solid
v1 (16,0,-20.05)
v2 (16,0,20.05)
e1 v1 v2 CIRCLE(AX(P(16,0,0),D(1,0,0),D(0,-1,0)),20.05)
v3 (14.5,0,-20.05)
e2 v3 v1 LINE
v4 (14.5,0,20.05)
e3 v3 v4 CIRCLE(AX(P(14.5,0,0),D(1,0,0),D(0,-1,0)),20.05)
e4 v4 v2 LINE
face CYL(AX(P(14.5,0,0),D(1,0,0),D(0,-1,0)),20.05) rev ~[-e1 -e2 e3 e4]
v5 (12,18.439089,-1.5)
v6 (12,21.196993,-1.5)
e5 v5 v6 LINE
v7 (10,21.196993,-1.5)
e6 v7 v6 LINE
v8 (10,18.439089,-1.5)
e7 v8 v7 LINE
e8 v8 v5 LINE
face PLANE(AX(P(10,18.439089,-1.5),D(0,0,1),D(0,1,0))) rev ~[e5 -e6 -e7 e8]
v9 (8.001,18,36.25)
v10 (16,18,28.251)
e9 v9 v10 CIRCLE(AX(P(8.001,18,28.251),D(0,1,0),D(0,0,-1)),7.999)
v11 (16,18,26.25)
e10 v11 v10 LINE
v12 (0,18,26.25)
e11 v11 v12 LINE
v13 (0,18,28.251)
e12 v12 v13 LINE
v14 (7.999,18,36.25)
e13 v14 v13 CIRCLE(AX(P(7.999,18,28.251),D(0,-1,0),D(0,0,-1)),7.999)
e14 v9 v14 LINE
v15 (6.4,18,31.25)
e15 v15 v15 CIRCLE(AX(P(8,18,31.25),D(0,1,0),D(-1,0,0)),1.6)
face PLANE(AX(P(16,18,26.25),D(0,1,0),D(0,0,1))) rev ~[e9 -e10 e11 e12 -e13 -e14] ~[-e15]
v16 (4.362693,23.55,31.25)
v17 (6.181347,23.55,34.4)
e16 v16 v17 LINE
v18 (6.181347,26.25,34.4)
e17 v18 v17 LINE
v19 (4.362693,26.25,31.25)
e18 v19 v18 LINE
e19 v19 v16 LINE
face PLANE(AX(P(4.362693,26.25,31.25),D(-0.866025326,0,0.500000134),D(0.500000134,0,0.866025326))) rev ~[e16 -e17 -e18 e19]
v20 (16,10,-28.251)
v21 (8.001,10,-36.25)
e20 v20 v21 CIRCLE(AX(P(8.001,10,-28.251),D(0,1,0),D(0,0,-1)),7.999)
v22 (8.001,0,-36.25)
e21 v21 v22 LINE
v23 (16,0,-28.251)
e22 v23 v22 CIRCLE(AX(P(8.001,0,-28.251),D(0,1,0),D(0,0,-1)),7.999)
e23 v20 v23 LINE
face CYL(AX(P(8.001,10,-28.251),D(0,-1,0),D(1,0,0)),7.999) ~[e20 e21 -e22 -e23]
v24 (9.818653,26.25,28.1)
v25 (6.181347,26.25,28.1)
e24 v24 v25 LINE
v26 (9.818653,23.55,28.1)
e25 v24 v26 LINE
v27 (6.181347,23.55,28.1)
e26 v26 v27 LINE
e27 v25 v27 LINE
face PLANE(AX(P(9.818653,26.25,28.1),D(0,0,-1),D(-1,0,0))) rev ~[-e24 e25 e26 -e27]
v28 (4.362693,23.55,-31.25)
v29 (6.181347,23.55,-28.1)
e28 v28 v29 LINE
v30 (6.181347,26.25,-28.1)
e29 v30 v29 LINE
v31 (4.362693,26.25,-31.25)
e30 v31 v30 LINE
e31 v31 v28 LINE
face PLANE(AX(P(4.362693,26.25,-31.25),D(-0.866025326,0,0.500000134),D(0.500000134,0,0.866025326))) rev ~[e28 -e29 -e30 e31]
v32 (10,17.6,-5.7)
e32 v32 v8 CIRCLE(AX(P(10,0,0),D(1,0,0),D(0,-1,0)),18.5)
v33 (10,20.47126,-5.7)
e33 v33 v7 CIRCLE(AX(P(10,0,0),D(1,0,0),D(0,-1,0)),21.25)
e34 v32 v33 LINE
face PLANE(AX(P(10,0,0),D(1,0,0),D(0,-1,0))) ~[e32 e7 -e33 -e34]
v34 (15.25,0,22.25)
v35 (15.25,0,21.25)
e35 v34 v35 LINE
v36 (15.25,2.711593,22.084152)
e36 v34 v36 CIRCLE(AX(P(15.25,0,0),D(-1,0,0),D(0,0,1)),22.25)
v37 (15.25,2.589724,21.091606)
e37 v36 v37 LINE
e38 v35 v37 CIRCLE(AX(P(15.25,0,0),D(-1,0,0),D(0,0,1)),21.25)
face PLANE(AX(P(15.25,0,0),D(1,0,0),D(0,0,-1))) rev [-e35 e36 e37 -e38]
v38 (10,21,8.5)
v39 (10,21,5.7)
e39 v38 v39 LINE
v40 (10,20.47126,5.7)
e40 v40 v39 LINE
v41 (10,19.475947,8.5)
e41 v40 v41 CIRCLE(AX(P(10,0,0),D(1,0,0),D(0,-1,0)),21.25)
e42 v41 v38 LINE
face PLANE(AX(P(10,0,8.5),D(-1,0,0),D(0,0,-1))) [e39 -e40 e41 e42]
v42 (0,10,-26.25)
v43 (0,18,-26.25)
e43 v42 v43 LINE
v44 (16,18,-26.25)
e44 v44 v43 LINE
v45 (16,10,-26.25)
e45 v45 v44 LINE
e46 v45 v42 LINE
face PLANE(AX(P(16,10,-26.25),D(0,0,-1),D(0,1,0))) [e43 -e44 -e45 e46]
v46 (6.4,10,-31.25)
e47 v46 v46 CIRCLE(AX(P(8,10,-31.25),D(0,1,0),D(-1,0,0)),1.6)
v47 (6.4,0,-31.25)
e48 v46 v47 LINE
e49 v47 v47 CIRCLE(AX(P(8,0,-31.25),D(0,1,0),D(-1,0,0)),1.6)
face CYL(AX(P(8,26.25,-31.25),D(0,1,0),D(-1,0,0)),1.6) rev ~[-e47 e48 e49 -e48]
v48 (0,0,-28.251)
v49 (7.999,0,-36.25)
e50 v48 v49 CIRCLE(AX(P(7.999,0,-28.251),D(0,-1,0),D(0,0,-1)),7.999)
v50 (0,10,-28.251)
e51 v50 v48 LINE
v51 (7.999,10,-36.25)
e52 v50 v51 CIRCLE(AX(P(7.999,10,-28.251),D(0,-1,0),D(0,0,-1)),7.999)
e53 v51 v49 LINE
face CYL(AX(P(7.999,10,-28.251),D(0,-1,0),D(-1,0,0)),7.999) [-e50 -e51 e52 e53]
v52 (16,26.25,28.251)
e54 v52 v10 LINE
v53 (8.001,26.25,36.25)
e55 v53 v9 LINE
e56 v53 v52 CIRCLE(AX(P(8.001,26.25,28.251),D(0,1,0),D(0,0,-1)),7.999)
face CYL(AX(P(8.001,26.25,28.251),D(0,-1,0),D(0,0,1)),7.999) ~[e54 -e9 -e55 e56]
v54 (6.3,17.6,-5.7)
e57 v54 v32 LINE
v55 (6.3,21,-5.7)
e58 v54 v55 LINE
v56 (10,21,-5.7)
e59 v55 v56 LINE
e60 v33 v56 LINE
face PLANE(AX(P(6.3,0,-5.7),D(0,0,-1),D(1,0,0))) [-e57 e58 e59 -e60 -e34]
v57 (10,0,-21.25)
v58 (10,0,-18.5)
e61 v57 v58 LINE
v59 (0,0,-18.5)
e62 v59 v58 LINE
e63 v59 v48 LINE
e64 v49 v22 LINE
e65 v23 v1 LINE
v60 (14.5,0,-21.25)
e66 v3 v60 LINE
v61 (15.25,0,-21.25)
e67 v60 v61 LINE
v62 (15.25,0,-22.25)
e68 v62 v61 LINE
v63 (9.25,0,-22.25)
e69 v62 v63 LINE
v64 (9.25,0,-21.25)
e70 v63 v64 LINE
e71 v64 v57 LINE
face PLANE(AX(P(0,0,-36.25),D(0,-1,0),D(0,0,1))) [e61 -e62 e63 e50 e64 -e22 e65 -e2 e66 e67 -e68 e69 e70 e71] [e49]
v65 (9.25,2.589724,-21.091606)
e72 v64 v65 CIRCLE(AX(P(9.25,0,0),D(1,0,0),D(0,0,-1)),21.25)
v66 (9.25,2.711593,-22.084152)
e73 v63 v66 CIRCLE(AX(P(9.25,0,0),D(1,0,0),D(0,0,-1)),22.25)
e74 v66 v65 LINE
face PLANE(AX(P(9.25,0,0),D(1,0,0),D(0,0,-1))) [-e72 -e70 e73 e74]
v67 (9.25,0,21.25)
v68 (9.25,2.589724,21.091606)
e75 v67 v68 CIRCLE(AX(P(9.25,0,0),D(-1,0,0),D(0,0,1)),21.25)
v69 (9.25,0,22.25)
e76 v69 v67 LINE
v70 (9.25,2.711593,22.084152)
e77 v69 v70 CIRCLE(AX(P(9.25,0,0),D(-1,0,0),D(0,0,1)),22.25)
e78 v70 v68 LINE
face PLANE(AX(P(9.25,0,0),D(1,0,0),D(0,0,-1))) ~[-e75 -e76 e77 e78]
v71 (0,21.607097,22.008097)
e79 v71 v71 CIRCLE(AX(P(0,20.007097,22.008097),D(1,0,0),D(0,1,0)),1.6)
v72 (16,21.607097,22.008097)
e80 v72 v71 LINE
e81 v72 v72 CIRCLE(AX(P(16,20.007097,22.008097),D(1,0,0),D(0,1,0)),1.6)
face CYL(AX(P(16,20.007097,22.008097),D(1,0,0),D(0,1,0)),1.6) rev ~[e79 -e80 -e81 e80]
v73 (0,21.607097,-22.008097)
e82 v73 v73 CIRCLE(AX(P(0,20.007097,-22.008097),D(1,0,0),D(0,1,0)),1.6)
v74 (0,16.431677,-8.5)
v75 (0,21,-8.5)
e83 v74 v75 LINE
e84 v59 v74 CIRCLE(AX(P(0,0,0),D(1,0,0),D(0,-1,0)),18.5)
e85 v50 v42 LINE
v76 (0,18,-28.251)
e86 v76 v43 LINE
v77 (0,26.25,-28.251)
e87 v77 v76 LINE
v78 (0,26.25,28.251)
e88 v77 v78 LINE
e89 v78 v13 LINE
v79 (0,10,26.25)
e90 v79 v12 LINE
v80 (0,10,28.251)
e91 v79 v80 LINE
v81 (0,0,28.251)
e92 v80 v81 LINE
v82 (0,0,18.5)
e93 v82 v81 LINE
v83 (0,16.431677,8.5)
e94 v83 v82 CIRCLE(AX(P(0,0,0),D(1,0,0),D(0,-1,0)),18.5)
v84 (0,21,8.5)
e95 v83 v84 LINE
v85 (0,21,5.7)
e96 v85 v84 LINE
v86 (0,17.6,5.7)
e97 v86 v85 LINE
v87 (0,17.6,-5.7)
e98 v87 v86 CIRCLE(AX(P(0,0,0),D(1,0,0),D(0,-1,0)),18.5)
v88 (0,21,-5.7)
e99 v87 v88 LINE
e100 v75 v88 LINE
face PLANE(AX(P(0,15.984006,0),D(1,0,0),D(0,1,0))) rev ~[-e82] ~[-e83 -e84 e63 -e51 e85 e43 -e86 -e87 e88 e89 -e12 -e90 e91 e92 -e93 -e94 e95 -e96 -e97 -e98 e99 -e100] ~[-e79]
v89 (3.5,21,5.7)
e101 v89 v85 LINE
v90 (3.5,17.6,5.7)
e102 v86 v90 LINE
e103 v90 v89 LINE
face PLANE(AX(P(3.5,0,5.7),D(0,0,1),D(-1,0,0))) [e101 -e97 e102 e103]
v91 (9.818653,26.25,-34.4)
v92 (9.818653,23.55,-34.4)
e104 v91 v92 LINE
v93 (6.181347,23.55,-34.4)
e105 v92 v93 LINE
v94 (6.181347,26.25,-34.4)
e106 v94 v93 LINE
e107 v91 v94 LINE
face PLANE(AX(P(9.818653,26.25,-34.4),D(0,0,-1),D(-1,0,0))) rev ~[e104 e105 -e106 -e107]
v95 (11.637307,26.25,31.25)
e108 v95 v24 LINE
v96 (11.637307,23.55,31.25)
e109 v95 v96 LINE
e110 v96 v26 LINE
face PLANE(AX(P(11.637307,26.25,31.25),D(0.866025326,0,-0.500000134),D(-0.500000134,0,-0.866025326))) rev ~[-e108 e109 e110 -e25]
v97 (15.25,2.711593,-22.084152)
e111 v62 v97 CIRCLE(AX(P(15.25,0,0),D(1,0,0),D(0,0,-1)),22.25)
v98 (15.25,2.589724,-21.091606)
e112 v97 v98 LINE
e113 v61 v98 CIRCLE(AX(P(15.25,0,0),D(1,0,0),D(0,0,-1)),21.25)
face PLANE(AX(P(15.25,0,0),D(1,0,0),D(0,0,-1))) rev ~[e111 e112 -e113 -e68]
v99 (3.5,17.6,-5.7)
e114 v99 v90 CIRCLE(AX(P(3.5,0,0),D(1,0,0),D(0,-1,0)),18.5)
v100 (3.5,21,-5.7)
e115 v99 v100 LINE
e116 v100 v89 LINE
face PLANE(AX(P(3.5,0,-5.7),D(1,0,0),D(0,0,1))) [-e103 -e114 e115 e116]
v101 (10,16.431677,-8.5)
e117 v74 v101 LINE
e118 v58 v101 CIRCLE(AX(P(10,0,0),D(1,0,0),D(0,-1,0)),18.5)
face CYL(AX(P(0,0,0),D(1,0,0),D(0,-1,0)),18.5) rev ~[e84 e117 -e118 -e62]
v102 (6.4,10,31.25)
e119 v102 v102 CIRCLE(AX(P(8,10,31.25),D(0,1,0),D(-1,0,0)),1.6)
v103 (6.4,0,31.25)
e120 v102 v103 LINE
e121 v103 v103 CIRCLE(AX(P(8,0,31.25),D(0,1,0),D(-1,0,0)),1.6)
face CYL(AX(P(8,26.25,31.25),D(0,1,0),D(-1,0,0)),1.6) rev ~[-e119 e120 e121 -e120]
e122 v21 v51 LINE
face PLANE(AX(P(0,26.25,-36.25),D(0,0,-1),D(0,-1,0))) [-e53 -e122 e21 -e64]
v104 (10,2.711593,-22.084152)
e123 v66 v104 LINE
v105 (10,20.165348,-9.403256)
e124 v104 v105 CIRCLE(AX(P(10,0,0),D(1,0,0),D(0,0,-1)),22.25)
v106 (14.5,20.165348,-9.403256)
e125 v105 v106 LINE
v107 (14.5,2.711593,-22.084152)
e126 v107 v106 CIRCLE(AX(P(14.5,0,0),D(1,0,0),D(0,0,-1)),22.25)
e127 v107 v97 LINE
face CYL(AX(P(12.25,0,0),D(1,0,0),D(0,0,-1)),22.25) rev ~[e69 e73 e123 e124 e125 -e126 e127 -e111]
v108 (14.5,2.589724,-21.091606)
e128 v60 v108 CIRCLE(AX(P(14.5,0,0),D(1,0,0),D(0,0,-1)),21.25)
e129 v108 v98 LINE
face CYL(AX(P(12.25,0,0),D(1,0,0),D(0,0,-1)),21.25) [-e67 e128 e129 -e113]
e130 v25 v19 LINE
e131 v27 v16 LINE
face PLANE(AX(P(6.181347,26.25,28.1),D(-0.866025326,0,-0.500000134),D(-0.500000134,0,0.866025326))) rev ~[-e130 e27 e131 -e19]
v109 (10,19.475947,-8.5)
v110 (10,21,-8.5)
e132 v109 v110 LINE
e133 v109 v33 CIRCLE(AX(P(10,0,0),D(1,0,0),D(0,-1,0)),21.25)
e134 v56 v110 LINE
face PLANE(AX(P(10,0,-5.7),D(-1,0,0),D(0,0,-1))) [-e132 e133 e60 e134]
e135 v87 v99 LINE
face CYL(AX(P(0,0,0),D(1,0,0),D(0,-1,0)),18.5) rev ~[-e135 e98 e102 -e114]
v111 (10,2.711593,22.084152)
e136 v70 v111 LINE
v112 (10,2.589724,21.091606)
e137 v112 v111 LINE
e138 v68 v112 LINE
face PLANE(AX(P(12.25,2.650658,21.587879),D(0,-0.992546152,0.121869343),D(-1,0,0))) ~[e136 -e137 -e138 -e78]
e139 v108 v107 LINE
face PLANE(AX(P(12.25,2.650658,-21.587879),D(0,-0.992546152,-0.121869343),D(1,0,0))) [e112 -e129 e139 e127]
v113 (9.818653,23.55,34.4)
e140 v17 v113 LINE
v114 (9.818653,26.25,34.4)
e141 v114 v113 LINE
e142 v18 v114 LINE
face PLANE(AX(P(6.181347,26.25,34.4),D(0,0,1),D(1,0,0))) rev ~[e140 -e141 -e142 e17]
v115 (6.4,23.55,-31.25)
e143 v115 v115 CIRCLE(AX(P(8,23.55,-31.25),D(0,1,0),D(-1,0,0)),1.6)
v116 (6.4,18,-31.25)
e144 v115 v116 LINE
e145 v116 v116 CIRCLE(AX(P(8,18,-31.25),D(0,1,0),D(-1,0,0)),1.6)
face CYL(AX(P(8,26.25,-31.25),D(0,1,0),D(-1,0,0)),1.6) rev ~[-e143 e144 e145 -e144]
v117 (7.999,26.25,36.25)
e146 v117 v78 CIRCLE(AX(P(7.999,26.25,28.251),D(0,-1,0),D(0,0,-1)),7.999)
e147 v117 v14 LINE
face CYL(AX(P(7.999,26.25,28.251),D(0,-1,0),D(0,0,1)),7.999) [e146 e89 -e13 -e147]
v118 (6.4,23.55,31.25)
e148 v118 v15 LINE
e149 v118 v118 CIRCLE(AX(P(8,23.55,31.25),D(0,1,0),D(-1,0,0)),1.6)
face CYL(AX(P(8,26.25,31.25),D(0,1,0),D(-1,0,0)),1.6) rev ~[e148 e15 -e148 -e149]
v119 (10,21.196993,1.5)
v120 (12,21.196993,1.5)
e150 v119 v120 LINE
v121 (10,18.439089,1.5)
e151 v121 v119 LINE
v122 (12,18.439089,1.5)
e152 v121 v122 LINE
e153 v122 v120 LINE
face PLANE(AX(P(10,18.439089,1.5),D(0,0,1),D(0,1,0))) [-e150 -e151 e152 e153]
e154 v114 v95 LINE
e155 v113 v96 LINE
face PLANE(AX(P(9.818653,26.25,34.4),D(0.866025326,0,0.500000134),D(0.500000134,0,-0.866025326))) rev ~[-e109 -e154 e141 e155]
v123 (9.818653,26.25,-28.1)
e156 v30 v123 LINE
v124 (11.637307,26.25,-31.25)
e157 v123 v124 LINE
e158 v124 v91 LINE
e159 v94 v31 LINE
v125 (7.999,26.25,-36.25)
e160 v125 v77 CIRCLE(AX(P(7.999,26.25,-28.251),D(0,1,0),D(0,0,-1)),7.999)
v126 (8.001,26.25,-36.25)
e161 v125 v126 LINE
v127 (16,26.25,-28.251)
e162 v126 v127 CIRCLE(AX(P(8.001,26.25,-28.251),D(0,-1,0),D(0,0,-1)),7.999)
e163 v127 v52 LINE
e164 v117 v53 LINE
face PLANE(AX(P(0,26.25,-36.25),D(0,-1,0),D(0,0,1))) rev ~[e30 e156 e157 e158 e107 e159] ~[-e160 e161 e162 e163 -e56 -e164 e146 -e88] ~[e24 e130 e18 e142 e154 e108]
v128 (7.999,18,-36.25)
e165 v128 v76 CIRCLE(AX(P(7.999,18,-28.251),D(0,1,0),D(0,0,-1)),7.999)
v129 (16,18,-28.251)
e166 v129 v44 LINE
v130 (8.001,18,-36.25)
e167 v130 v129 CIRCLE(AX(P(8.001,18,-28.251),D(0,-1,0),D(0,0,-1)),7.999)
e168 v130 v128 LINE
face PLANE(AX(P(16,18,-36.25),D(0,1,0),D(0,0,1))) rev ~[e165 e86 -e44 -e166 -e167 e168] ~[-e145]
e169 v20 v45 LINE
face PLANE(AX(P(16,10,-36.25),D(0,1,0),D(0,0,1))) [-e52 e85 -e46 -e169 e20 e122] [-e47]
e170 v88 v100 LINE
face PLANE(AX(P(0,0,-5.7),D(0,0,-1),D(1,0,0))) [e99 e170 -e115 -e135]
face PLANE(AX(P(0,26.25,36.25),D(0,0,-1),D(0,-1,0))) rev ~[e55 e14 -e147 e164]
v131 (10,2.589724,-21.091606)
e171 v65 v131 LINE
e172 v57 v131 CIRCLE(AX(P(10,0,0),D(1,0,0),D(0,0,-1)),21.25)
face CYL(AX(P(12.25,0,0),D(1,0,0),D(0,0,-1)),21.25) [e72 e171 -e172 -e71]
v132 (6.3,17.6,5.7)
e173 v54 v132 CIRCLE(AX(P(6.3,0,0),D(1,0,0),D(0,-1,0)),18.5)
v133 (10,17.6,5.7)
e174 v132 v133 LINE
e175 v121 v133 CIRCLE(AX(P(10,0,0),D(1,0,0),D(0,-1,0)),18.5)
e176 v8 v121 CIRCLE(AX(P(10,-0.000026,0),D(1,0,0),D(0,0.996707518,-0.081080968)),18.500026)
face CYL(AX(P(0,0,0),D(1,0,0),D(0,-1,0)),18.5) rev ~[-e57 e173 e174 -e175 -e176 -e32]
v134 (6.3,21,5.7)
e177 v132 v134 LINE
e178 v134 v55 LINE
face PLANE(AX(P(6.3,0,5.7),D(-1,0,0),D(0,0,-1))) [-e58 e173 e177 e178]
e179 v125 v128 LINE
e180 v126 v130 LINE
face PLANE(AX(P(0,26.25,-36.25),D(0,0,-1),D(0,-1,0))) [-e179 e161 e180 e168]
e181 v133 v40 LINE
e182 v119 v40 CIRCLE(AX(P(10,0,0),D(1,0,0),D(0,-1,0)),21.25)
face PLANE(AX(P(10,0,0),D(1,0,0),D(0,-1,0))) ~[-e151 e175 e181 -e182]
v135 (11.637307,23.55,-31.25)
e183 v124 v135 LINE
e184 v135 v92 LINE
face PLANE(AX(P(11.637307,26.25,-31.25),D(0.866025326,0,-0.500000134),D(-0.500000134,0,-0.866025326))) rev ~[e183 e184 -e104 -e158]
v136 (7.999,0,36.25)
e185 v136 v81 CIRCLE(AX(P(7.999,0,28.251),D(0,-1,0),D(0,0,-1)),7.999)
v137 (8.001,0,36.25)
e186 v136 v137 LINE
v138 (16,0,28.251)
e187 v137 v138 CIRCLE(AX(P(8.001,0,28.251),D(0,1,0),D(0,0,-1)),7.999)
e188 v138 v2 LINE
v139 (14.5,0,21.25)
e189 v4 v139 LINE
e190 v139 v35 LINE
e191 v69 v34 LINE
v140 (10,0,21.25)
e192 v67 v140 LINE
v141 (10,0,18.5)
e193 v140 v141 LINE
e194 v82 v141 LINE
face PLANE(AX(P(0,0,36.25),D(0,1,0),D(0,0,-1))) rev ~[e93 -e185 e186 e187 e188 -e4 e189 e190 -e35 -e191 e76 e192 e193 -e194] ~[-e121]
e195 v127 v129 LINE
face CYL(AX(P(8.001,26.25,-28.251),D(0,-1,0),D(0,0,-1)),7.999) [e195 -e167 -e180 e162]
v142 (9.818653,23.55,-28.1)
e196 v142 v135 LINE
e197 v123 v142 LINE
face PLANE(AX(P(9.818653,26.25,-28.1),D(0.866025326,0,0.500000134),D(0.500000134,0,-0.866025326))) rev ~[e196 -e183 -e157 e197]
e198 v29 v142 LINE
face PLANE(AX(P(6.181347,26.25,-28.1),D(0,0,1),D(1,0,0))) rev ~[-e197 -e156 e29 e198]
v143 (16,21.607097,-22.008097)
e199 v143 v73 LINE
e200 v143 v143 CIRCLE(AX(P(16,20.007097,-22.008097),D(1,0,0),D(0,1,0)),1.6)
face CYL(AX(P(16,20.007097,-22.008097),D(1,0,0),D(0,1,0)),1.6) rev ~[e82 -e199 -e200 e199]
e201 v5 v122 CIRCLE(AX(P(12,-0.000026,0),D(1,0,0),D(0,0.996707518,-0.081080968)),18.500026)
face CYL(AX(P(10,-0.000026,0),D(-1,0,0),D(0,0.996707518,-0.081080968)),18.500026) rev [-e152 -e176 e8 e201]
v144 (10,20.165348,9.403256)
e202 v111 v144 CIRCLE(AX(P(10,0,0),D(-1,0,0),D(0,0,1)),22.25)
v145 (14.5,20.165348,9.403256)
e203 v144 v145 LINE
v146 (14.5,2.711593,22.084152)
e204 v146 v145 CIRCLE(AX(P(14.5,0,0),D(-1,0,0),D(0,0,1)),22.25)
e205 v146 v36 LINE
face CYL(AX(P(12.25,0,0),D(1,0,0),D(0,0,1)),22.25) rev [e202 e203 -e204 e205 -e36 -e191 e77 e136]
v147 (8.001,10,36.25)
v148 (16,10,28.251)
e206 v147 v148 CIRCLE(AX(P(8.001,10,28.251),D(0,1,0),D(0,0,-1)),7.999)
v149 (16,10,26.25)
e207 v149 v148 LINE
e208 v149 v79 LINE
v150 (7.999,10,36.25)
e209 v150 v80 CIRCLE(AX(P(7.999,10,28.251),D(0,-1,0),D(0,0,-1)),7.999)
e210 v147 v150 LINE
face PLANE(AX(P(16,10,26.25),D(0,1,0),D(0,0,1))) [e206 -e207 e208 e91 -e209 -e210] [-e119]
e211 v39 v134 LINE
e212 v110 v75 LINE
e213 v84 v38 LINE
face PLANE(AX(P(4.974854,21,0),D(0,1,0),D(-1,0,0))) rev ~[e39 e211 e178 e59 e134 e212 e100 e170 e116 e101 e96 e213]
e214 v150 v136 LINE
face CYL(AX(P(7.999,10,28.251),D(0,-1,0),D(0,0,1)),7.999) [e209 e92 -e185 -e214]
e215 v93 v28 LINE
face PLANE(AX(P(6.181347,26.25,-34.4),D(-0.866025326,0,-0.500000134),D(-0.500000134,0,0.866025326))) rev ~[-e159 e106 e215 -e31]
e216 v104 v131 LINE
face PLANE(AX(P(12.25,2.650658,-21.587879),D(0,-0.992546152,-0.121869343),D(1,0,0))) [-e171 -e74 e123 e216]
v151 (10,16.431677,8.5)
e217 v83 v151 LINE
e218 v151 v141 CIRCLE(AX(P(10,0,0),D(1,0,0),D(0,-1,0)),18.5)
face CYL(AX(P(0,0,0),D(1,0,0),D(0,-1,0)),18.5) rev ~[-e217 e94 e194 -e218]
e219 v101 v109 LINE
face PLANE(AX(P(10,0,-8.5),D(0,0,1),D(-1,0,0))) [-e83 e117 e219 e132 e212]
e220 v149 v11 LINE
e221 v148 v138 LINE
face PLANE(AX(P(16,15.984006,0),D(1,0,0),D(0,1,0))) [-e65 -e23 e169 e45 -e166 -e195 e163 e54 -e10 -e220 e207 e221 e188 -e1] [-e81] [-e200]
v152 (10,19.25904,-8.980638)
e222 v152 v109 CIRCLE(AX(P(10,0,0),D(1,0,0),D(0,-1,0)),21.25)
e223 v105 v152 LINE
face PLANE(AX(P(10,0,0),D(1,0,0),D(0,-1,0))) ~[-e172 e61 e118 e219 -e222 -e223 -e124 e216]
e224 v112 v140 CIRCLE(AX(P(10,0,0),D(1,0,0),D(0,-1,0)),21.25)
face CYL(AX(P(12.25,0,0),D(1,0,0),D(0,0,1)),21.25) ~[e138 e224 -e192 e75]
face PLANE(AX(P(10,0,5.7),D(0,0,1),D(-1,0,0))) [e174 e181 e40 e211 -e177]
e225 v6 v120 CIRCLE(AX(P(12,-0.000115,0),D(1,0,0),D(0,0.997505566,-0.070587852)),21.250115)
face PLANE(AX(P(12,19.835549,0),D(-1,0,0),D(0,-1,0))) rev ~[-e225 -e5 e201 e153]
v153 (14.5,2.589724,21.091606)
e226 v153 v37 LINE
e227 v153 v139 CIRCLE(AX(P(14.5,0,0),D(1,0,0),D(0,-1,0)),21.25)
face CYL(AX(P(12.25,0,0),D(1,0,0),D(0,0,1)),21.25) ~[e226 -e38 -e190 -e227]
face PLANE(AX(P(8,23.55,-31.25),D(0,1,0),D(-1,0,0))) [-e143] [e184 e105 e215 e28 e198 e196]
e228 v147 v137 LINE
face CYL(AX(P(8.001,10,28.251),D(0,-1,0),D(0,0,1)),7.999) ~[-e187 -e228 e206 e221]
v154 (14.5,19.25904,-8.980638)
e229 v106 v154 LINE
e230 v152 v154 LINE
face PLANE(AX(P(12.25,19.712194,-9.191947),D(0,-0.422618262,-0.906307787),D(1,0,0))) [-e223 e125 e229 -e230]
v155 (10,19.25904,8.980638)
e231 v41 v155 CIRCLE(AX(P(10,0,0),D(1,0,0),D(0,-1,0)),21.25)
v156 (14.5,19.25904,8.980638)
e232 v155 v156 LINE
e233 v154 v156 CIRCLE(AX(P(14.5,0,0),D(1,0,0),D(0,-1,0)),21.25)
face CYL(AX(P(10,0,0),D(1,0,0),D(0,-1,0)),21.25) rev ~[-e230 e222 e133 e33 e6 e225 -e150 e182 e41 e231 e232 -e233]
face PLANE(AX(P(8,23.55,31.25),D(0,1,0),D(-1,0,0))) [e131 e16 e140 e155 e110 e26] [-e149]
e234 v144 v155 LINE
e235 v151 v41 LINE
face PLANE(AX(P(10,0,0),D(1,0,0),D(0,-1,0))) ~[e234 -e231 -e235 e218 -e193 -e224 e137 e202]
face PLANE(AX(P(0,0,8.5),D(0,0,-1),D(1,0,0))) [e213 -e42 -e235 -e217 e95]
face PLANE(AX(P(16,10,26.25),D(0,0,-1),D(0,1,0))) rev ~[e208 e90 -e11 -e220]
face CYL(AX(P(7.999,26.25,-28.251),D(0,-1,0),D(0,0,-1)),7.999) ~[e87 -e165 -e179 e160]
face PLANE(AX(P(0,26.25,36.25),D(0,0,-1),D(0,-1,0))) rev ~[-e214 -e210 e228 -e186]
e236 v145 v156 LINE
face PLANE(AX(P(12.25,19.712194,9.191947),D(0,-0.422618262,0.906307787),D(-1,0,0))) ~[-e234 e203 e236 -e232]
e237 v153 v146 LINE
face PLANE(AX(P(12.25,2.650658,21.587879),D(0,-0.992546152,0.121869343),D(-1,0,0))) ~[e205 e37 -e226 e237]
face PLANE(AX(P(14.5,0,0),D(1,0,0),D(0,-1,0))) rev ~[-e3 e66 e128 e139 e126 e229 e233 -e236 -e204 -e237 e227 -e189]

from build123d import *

# Parameters (mm, degrees)
SKETCH001_W     = 23.25
SKETCH001_H     = 46.5
POCKET_DEPTH    = 16.001
POCKET001_DEPTH = 21
SKETCH003_W     = 4.5
SKETCH003_H     = 1
GROOVE_ANGLE    = 65
SKETCH004_W     = 6
SKETCH004_H     = 1
GROOVE001_ANGLE = 7
PAD_DEPTH       = 16
SKETCH006_W     = 8
SKETCH006_H     = 10
POCKET002_DEPTH = 16.001
SKETCH007_R     = 1.6
POCKET003_DEPTH = 26.251
POCKET004_DEPTH = 2.7
FILLET_R        = 7.999
SKETCH009_R     = 1.6
POCKET005_DEPTH = 16.001
PAD001_DEPTH    = 2


with BuildPart() as part:
    # Sketch → Revolution (revolve)
    with BuildSketch(Plane.XY):
        Polygon((0, -18.5), (10, -18.5), (10, -21.25), (14.5, -21.25), (14.5, -20.05), (16, -20.05), (16, -23.25), (14.5, -23.25), (10, -23.25), (0, -23.25), align=None)
    revolve(axis=Axis((0, 0, 0), (1, 0, 0)))

    # Sketch001 (on Face9 of Revolution) → Pocket (cut, through all)
    with BuildSketch(Plane.YZ.offset(16)):
        with Locations((-11.625, 0)):
            Rectangle(SKETCH001_W, SKETCH001_H)
    extrude(amount=-POCKET_DEPTH, mode=Mode.SUBTRACT)

    # Sketch002 (on Face2 of Pocket) → Pocket001 (cut)
    with BuildSketch(Plane.XZ):
        Polygon((0, 8.5), (10, 8.5), (10, 5.7), (6.3, 5.7), (6.3, -5.7), (10, -5.7), (10, -8.5), (0, -8.5), (0, -5.7), (3.5, -5.7), (3.5, 5.7), (0, 5.7), align=None)
    extrude(amount=-POCKET001_DEPTH, mode=Mode.SUBTRACT)

    # Sketch003 (on Face4 of Pocket001) → Groove (revolve, cut)
    with BuildSketch(Plane.XZ):
        with Locations((12.25, -21.75)):
            Rectangle(SKETCH003_W, SKETCH003_H)
    groove = revolve(axis=Axis((0, 0, 0), (1, 0, 0)), revolution_arc=GROOVE_ANGLE, mode=Mode.SUBTRACT)

    # Sketch004 (on Face4 of Groove) → Groove001 (revolve, cut)
    with BuildSketch(Plane.XZ):
        with Locations((12.25, -21.75)):
            Rectangle(SKETCH004_W, SKETCH004_H)
    groove001 = revolve(axis=Axis((0, 0, 0), (1, 0, 0)), revolution_arc=GROOVE001_ANGLE, mode=Mode.SUBTRACT)

    # Sketch005 (on Face12 of Groove001) → Pad (join)
    with BuildSketch(Plane(origin=(0, 0, 0), x_dir=(0, -1, 0), z_dir=(-1, 0, 0))):
        with BuildLine():
            ThreePointArc((0, 23.25), (-23.25, 0), (0, -23.25))
            Line((0, -36.25), (0, -23.25))
            Line((-26.25, -36.25), (0, -36.25))
            Line((-26.25, -36.25), (-26.25, 36.25))
            Line((-26.25, 36.25), (0, 36.25))
            Line((0, 36.25), (0, 23.25))
        make_face()
    extrude(amount=-PAD_DEPTH)

    # Sketch006 (on Face11 of Pad) → Pocket002 (cut, through all)
    with BuildSketch(Plane.YZ.offset(16)):
        with Locations((14, 31.25)):
            Rectangle(SKETCH006_W, SKETCH006_H)
        with Locations((14, -31.25)):
            Rectangle(SKETCH006_W, SKETCH006_H)
    extrude(amount=-POCKET002_DEPTH, mode=Mode.SUBTRACT)

    # Sketch007 (on Face40 of Pocket002) → Pocket003 (cut, through all)
    with BuildSketch(Plane(origin=(0, 26.25, 0), x_dir=(-1, 0, 0), z_dir=(0, 1, 0))):
        with Locations((-8, 31.25)):
            Circle(SKETCH007_R)
        with Locations((-8, -31.25)):
            Circle(SKETCH007_R)
    extrude(amount=-POCKET003_DEPTH, mode=Mode.SUBTRACT)

    # Sketch008 (on Face41 of Pocket003) → Pocket004 (cut)
    with BuildSketch(Plane(origin=(0, 26.25, 0), x_dir=(-1, 0, 0), z_dir=(0, 1, 0))):
        Polygon((-9.818653, 34.4), (-11.637307, 31.25), (-9.818653, 28.1), (-6.181347, 28.1), (-4.362693, 31.25), (-6.181347, 34.4), align=None)
        Polygon((-9.818653, -28.1), (-11.637307, -31.25), (-9.818653, -34.4), (-6.181347, -34.4), (-4.362693, -31.25), (-6.181347, -28.1), align=None)
    extrude(amount=-POCKET004_DEPTH, mode=Mode.SUBTRACT)

    # Mirrored: Groove001, Groove across XY
    add(groove001.mirror(Plane.XY), mode=Mode.SUBTRACT)
    add(groove.mirror(Plane.XY), mode=Mode.SUBTRACT)

    # Fillet
    fillet_edges = [part.edges().sort_by_distance(p)[0] for p in [
        (0, 22.125, 36.25),
        (0, 5, 36.25),
        (16, 5, 36.25),
        (16, 22.125, 36.25),
        (0, 22.125, -36.25),
        (0, 5, -36.25),
        (16, 22.125, -36.25),
        (16, 5, -36.25),
    ]]
    fillet(fillet_edges, radius=FILLET_R)

    # Sketch009 (on Face7 of Fillet) → Pocket005 (cut, through all)
    with BuildSketch(Plane.YZ.offset(16)):
        with Locations((20.007097, 22.008097)):
            Circle(SKETCH009_R)
        with Locations((20.007097, -22.008097)):
            Circle(SKETCH009_R)
    extrude(amount=-POCKET005_DEPTH, mode=Mode.SUBTRACT)

    # Sketch010 (on Face89 of Pocket005) → Pad001 (join)
    with BuildSketch(Plane.YZ.offset(10)):
        with BuildLine():
            ThreePointArc((18.439089, -1.5), (18.5, 0), (18.439089, 1.5))
            Line((18.439089, 1.5), (21.196993, 1.5))
            ThreePointArc((21.196993, -1.5), (21.25, 0), (21.196993, 1.5))
            Line((18.439089, -1.5), (21.196993, -1.5))
        make_face()
    extrude(amount=PAD001_DEPTH)


solid = part.part
